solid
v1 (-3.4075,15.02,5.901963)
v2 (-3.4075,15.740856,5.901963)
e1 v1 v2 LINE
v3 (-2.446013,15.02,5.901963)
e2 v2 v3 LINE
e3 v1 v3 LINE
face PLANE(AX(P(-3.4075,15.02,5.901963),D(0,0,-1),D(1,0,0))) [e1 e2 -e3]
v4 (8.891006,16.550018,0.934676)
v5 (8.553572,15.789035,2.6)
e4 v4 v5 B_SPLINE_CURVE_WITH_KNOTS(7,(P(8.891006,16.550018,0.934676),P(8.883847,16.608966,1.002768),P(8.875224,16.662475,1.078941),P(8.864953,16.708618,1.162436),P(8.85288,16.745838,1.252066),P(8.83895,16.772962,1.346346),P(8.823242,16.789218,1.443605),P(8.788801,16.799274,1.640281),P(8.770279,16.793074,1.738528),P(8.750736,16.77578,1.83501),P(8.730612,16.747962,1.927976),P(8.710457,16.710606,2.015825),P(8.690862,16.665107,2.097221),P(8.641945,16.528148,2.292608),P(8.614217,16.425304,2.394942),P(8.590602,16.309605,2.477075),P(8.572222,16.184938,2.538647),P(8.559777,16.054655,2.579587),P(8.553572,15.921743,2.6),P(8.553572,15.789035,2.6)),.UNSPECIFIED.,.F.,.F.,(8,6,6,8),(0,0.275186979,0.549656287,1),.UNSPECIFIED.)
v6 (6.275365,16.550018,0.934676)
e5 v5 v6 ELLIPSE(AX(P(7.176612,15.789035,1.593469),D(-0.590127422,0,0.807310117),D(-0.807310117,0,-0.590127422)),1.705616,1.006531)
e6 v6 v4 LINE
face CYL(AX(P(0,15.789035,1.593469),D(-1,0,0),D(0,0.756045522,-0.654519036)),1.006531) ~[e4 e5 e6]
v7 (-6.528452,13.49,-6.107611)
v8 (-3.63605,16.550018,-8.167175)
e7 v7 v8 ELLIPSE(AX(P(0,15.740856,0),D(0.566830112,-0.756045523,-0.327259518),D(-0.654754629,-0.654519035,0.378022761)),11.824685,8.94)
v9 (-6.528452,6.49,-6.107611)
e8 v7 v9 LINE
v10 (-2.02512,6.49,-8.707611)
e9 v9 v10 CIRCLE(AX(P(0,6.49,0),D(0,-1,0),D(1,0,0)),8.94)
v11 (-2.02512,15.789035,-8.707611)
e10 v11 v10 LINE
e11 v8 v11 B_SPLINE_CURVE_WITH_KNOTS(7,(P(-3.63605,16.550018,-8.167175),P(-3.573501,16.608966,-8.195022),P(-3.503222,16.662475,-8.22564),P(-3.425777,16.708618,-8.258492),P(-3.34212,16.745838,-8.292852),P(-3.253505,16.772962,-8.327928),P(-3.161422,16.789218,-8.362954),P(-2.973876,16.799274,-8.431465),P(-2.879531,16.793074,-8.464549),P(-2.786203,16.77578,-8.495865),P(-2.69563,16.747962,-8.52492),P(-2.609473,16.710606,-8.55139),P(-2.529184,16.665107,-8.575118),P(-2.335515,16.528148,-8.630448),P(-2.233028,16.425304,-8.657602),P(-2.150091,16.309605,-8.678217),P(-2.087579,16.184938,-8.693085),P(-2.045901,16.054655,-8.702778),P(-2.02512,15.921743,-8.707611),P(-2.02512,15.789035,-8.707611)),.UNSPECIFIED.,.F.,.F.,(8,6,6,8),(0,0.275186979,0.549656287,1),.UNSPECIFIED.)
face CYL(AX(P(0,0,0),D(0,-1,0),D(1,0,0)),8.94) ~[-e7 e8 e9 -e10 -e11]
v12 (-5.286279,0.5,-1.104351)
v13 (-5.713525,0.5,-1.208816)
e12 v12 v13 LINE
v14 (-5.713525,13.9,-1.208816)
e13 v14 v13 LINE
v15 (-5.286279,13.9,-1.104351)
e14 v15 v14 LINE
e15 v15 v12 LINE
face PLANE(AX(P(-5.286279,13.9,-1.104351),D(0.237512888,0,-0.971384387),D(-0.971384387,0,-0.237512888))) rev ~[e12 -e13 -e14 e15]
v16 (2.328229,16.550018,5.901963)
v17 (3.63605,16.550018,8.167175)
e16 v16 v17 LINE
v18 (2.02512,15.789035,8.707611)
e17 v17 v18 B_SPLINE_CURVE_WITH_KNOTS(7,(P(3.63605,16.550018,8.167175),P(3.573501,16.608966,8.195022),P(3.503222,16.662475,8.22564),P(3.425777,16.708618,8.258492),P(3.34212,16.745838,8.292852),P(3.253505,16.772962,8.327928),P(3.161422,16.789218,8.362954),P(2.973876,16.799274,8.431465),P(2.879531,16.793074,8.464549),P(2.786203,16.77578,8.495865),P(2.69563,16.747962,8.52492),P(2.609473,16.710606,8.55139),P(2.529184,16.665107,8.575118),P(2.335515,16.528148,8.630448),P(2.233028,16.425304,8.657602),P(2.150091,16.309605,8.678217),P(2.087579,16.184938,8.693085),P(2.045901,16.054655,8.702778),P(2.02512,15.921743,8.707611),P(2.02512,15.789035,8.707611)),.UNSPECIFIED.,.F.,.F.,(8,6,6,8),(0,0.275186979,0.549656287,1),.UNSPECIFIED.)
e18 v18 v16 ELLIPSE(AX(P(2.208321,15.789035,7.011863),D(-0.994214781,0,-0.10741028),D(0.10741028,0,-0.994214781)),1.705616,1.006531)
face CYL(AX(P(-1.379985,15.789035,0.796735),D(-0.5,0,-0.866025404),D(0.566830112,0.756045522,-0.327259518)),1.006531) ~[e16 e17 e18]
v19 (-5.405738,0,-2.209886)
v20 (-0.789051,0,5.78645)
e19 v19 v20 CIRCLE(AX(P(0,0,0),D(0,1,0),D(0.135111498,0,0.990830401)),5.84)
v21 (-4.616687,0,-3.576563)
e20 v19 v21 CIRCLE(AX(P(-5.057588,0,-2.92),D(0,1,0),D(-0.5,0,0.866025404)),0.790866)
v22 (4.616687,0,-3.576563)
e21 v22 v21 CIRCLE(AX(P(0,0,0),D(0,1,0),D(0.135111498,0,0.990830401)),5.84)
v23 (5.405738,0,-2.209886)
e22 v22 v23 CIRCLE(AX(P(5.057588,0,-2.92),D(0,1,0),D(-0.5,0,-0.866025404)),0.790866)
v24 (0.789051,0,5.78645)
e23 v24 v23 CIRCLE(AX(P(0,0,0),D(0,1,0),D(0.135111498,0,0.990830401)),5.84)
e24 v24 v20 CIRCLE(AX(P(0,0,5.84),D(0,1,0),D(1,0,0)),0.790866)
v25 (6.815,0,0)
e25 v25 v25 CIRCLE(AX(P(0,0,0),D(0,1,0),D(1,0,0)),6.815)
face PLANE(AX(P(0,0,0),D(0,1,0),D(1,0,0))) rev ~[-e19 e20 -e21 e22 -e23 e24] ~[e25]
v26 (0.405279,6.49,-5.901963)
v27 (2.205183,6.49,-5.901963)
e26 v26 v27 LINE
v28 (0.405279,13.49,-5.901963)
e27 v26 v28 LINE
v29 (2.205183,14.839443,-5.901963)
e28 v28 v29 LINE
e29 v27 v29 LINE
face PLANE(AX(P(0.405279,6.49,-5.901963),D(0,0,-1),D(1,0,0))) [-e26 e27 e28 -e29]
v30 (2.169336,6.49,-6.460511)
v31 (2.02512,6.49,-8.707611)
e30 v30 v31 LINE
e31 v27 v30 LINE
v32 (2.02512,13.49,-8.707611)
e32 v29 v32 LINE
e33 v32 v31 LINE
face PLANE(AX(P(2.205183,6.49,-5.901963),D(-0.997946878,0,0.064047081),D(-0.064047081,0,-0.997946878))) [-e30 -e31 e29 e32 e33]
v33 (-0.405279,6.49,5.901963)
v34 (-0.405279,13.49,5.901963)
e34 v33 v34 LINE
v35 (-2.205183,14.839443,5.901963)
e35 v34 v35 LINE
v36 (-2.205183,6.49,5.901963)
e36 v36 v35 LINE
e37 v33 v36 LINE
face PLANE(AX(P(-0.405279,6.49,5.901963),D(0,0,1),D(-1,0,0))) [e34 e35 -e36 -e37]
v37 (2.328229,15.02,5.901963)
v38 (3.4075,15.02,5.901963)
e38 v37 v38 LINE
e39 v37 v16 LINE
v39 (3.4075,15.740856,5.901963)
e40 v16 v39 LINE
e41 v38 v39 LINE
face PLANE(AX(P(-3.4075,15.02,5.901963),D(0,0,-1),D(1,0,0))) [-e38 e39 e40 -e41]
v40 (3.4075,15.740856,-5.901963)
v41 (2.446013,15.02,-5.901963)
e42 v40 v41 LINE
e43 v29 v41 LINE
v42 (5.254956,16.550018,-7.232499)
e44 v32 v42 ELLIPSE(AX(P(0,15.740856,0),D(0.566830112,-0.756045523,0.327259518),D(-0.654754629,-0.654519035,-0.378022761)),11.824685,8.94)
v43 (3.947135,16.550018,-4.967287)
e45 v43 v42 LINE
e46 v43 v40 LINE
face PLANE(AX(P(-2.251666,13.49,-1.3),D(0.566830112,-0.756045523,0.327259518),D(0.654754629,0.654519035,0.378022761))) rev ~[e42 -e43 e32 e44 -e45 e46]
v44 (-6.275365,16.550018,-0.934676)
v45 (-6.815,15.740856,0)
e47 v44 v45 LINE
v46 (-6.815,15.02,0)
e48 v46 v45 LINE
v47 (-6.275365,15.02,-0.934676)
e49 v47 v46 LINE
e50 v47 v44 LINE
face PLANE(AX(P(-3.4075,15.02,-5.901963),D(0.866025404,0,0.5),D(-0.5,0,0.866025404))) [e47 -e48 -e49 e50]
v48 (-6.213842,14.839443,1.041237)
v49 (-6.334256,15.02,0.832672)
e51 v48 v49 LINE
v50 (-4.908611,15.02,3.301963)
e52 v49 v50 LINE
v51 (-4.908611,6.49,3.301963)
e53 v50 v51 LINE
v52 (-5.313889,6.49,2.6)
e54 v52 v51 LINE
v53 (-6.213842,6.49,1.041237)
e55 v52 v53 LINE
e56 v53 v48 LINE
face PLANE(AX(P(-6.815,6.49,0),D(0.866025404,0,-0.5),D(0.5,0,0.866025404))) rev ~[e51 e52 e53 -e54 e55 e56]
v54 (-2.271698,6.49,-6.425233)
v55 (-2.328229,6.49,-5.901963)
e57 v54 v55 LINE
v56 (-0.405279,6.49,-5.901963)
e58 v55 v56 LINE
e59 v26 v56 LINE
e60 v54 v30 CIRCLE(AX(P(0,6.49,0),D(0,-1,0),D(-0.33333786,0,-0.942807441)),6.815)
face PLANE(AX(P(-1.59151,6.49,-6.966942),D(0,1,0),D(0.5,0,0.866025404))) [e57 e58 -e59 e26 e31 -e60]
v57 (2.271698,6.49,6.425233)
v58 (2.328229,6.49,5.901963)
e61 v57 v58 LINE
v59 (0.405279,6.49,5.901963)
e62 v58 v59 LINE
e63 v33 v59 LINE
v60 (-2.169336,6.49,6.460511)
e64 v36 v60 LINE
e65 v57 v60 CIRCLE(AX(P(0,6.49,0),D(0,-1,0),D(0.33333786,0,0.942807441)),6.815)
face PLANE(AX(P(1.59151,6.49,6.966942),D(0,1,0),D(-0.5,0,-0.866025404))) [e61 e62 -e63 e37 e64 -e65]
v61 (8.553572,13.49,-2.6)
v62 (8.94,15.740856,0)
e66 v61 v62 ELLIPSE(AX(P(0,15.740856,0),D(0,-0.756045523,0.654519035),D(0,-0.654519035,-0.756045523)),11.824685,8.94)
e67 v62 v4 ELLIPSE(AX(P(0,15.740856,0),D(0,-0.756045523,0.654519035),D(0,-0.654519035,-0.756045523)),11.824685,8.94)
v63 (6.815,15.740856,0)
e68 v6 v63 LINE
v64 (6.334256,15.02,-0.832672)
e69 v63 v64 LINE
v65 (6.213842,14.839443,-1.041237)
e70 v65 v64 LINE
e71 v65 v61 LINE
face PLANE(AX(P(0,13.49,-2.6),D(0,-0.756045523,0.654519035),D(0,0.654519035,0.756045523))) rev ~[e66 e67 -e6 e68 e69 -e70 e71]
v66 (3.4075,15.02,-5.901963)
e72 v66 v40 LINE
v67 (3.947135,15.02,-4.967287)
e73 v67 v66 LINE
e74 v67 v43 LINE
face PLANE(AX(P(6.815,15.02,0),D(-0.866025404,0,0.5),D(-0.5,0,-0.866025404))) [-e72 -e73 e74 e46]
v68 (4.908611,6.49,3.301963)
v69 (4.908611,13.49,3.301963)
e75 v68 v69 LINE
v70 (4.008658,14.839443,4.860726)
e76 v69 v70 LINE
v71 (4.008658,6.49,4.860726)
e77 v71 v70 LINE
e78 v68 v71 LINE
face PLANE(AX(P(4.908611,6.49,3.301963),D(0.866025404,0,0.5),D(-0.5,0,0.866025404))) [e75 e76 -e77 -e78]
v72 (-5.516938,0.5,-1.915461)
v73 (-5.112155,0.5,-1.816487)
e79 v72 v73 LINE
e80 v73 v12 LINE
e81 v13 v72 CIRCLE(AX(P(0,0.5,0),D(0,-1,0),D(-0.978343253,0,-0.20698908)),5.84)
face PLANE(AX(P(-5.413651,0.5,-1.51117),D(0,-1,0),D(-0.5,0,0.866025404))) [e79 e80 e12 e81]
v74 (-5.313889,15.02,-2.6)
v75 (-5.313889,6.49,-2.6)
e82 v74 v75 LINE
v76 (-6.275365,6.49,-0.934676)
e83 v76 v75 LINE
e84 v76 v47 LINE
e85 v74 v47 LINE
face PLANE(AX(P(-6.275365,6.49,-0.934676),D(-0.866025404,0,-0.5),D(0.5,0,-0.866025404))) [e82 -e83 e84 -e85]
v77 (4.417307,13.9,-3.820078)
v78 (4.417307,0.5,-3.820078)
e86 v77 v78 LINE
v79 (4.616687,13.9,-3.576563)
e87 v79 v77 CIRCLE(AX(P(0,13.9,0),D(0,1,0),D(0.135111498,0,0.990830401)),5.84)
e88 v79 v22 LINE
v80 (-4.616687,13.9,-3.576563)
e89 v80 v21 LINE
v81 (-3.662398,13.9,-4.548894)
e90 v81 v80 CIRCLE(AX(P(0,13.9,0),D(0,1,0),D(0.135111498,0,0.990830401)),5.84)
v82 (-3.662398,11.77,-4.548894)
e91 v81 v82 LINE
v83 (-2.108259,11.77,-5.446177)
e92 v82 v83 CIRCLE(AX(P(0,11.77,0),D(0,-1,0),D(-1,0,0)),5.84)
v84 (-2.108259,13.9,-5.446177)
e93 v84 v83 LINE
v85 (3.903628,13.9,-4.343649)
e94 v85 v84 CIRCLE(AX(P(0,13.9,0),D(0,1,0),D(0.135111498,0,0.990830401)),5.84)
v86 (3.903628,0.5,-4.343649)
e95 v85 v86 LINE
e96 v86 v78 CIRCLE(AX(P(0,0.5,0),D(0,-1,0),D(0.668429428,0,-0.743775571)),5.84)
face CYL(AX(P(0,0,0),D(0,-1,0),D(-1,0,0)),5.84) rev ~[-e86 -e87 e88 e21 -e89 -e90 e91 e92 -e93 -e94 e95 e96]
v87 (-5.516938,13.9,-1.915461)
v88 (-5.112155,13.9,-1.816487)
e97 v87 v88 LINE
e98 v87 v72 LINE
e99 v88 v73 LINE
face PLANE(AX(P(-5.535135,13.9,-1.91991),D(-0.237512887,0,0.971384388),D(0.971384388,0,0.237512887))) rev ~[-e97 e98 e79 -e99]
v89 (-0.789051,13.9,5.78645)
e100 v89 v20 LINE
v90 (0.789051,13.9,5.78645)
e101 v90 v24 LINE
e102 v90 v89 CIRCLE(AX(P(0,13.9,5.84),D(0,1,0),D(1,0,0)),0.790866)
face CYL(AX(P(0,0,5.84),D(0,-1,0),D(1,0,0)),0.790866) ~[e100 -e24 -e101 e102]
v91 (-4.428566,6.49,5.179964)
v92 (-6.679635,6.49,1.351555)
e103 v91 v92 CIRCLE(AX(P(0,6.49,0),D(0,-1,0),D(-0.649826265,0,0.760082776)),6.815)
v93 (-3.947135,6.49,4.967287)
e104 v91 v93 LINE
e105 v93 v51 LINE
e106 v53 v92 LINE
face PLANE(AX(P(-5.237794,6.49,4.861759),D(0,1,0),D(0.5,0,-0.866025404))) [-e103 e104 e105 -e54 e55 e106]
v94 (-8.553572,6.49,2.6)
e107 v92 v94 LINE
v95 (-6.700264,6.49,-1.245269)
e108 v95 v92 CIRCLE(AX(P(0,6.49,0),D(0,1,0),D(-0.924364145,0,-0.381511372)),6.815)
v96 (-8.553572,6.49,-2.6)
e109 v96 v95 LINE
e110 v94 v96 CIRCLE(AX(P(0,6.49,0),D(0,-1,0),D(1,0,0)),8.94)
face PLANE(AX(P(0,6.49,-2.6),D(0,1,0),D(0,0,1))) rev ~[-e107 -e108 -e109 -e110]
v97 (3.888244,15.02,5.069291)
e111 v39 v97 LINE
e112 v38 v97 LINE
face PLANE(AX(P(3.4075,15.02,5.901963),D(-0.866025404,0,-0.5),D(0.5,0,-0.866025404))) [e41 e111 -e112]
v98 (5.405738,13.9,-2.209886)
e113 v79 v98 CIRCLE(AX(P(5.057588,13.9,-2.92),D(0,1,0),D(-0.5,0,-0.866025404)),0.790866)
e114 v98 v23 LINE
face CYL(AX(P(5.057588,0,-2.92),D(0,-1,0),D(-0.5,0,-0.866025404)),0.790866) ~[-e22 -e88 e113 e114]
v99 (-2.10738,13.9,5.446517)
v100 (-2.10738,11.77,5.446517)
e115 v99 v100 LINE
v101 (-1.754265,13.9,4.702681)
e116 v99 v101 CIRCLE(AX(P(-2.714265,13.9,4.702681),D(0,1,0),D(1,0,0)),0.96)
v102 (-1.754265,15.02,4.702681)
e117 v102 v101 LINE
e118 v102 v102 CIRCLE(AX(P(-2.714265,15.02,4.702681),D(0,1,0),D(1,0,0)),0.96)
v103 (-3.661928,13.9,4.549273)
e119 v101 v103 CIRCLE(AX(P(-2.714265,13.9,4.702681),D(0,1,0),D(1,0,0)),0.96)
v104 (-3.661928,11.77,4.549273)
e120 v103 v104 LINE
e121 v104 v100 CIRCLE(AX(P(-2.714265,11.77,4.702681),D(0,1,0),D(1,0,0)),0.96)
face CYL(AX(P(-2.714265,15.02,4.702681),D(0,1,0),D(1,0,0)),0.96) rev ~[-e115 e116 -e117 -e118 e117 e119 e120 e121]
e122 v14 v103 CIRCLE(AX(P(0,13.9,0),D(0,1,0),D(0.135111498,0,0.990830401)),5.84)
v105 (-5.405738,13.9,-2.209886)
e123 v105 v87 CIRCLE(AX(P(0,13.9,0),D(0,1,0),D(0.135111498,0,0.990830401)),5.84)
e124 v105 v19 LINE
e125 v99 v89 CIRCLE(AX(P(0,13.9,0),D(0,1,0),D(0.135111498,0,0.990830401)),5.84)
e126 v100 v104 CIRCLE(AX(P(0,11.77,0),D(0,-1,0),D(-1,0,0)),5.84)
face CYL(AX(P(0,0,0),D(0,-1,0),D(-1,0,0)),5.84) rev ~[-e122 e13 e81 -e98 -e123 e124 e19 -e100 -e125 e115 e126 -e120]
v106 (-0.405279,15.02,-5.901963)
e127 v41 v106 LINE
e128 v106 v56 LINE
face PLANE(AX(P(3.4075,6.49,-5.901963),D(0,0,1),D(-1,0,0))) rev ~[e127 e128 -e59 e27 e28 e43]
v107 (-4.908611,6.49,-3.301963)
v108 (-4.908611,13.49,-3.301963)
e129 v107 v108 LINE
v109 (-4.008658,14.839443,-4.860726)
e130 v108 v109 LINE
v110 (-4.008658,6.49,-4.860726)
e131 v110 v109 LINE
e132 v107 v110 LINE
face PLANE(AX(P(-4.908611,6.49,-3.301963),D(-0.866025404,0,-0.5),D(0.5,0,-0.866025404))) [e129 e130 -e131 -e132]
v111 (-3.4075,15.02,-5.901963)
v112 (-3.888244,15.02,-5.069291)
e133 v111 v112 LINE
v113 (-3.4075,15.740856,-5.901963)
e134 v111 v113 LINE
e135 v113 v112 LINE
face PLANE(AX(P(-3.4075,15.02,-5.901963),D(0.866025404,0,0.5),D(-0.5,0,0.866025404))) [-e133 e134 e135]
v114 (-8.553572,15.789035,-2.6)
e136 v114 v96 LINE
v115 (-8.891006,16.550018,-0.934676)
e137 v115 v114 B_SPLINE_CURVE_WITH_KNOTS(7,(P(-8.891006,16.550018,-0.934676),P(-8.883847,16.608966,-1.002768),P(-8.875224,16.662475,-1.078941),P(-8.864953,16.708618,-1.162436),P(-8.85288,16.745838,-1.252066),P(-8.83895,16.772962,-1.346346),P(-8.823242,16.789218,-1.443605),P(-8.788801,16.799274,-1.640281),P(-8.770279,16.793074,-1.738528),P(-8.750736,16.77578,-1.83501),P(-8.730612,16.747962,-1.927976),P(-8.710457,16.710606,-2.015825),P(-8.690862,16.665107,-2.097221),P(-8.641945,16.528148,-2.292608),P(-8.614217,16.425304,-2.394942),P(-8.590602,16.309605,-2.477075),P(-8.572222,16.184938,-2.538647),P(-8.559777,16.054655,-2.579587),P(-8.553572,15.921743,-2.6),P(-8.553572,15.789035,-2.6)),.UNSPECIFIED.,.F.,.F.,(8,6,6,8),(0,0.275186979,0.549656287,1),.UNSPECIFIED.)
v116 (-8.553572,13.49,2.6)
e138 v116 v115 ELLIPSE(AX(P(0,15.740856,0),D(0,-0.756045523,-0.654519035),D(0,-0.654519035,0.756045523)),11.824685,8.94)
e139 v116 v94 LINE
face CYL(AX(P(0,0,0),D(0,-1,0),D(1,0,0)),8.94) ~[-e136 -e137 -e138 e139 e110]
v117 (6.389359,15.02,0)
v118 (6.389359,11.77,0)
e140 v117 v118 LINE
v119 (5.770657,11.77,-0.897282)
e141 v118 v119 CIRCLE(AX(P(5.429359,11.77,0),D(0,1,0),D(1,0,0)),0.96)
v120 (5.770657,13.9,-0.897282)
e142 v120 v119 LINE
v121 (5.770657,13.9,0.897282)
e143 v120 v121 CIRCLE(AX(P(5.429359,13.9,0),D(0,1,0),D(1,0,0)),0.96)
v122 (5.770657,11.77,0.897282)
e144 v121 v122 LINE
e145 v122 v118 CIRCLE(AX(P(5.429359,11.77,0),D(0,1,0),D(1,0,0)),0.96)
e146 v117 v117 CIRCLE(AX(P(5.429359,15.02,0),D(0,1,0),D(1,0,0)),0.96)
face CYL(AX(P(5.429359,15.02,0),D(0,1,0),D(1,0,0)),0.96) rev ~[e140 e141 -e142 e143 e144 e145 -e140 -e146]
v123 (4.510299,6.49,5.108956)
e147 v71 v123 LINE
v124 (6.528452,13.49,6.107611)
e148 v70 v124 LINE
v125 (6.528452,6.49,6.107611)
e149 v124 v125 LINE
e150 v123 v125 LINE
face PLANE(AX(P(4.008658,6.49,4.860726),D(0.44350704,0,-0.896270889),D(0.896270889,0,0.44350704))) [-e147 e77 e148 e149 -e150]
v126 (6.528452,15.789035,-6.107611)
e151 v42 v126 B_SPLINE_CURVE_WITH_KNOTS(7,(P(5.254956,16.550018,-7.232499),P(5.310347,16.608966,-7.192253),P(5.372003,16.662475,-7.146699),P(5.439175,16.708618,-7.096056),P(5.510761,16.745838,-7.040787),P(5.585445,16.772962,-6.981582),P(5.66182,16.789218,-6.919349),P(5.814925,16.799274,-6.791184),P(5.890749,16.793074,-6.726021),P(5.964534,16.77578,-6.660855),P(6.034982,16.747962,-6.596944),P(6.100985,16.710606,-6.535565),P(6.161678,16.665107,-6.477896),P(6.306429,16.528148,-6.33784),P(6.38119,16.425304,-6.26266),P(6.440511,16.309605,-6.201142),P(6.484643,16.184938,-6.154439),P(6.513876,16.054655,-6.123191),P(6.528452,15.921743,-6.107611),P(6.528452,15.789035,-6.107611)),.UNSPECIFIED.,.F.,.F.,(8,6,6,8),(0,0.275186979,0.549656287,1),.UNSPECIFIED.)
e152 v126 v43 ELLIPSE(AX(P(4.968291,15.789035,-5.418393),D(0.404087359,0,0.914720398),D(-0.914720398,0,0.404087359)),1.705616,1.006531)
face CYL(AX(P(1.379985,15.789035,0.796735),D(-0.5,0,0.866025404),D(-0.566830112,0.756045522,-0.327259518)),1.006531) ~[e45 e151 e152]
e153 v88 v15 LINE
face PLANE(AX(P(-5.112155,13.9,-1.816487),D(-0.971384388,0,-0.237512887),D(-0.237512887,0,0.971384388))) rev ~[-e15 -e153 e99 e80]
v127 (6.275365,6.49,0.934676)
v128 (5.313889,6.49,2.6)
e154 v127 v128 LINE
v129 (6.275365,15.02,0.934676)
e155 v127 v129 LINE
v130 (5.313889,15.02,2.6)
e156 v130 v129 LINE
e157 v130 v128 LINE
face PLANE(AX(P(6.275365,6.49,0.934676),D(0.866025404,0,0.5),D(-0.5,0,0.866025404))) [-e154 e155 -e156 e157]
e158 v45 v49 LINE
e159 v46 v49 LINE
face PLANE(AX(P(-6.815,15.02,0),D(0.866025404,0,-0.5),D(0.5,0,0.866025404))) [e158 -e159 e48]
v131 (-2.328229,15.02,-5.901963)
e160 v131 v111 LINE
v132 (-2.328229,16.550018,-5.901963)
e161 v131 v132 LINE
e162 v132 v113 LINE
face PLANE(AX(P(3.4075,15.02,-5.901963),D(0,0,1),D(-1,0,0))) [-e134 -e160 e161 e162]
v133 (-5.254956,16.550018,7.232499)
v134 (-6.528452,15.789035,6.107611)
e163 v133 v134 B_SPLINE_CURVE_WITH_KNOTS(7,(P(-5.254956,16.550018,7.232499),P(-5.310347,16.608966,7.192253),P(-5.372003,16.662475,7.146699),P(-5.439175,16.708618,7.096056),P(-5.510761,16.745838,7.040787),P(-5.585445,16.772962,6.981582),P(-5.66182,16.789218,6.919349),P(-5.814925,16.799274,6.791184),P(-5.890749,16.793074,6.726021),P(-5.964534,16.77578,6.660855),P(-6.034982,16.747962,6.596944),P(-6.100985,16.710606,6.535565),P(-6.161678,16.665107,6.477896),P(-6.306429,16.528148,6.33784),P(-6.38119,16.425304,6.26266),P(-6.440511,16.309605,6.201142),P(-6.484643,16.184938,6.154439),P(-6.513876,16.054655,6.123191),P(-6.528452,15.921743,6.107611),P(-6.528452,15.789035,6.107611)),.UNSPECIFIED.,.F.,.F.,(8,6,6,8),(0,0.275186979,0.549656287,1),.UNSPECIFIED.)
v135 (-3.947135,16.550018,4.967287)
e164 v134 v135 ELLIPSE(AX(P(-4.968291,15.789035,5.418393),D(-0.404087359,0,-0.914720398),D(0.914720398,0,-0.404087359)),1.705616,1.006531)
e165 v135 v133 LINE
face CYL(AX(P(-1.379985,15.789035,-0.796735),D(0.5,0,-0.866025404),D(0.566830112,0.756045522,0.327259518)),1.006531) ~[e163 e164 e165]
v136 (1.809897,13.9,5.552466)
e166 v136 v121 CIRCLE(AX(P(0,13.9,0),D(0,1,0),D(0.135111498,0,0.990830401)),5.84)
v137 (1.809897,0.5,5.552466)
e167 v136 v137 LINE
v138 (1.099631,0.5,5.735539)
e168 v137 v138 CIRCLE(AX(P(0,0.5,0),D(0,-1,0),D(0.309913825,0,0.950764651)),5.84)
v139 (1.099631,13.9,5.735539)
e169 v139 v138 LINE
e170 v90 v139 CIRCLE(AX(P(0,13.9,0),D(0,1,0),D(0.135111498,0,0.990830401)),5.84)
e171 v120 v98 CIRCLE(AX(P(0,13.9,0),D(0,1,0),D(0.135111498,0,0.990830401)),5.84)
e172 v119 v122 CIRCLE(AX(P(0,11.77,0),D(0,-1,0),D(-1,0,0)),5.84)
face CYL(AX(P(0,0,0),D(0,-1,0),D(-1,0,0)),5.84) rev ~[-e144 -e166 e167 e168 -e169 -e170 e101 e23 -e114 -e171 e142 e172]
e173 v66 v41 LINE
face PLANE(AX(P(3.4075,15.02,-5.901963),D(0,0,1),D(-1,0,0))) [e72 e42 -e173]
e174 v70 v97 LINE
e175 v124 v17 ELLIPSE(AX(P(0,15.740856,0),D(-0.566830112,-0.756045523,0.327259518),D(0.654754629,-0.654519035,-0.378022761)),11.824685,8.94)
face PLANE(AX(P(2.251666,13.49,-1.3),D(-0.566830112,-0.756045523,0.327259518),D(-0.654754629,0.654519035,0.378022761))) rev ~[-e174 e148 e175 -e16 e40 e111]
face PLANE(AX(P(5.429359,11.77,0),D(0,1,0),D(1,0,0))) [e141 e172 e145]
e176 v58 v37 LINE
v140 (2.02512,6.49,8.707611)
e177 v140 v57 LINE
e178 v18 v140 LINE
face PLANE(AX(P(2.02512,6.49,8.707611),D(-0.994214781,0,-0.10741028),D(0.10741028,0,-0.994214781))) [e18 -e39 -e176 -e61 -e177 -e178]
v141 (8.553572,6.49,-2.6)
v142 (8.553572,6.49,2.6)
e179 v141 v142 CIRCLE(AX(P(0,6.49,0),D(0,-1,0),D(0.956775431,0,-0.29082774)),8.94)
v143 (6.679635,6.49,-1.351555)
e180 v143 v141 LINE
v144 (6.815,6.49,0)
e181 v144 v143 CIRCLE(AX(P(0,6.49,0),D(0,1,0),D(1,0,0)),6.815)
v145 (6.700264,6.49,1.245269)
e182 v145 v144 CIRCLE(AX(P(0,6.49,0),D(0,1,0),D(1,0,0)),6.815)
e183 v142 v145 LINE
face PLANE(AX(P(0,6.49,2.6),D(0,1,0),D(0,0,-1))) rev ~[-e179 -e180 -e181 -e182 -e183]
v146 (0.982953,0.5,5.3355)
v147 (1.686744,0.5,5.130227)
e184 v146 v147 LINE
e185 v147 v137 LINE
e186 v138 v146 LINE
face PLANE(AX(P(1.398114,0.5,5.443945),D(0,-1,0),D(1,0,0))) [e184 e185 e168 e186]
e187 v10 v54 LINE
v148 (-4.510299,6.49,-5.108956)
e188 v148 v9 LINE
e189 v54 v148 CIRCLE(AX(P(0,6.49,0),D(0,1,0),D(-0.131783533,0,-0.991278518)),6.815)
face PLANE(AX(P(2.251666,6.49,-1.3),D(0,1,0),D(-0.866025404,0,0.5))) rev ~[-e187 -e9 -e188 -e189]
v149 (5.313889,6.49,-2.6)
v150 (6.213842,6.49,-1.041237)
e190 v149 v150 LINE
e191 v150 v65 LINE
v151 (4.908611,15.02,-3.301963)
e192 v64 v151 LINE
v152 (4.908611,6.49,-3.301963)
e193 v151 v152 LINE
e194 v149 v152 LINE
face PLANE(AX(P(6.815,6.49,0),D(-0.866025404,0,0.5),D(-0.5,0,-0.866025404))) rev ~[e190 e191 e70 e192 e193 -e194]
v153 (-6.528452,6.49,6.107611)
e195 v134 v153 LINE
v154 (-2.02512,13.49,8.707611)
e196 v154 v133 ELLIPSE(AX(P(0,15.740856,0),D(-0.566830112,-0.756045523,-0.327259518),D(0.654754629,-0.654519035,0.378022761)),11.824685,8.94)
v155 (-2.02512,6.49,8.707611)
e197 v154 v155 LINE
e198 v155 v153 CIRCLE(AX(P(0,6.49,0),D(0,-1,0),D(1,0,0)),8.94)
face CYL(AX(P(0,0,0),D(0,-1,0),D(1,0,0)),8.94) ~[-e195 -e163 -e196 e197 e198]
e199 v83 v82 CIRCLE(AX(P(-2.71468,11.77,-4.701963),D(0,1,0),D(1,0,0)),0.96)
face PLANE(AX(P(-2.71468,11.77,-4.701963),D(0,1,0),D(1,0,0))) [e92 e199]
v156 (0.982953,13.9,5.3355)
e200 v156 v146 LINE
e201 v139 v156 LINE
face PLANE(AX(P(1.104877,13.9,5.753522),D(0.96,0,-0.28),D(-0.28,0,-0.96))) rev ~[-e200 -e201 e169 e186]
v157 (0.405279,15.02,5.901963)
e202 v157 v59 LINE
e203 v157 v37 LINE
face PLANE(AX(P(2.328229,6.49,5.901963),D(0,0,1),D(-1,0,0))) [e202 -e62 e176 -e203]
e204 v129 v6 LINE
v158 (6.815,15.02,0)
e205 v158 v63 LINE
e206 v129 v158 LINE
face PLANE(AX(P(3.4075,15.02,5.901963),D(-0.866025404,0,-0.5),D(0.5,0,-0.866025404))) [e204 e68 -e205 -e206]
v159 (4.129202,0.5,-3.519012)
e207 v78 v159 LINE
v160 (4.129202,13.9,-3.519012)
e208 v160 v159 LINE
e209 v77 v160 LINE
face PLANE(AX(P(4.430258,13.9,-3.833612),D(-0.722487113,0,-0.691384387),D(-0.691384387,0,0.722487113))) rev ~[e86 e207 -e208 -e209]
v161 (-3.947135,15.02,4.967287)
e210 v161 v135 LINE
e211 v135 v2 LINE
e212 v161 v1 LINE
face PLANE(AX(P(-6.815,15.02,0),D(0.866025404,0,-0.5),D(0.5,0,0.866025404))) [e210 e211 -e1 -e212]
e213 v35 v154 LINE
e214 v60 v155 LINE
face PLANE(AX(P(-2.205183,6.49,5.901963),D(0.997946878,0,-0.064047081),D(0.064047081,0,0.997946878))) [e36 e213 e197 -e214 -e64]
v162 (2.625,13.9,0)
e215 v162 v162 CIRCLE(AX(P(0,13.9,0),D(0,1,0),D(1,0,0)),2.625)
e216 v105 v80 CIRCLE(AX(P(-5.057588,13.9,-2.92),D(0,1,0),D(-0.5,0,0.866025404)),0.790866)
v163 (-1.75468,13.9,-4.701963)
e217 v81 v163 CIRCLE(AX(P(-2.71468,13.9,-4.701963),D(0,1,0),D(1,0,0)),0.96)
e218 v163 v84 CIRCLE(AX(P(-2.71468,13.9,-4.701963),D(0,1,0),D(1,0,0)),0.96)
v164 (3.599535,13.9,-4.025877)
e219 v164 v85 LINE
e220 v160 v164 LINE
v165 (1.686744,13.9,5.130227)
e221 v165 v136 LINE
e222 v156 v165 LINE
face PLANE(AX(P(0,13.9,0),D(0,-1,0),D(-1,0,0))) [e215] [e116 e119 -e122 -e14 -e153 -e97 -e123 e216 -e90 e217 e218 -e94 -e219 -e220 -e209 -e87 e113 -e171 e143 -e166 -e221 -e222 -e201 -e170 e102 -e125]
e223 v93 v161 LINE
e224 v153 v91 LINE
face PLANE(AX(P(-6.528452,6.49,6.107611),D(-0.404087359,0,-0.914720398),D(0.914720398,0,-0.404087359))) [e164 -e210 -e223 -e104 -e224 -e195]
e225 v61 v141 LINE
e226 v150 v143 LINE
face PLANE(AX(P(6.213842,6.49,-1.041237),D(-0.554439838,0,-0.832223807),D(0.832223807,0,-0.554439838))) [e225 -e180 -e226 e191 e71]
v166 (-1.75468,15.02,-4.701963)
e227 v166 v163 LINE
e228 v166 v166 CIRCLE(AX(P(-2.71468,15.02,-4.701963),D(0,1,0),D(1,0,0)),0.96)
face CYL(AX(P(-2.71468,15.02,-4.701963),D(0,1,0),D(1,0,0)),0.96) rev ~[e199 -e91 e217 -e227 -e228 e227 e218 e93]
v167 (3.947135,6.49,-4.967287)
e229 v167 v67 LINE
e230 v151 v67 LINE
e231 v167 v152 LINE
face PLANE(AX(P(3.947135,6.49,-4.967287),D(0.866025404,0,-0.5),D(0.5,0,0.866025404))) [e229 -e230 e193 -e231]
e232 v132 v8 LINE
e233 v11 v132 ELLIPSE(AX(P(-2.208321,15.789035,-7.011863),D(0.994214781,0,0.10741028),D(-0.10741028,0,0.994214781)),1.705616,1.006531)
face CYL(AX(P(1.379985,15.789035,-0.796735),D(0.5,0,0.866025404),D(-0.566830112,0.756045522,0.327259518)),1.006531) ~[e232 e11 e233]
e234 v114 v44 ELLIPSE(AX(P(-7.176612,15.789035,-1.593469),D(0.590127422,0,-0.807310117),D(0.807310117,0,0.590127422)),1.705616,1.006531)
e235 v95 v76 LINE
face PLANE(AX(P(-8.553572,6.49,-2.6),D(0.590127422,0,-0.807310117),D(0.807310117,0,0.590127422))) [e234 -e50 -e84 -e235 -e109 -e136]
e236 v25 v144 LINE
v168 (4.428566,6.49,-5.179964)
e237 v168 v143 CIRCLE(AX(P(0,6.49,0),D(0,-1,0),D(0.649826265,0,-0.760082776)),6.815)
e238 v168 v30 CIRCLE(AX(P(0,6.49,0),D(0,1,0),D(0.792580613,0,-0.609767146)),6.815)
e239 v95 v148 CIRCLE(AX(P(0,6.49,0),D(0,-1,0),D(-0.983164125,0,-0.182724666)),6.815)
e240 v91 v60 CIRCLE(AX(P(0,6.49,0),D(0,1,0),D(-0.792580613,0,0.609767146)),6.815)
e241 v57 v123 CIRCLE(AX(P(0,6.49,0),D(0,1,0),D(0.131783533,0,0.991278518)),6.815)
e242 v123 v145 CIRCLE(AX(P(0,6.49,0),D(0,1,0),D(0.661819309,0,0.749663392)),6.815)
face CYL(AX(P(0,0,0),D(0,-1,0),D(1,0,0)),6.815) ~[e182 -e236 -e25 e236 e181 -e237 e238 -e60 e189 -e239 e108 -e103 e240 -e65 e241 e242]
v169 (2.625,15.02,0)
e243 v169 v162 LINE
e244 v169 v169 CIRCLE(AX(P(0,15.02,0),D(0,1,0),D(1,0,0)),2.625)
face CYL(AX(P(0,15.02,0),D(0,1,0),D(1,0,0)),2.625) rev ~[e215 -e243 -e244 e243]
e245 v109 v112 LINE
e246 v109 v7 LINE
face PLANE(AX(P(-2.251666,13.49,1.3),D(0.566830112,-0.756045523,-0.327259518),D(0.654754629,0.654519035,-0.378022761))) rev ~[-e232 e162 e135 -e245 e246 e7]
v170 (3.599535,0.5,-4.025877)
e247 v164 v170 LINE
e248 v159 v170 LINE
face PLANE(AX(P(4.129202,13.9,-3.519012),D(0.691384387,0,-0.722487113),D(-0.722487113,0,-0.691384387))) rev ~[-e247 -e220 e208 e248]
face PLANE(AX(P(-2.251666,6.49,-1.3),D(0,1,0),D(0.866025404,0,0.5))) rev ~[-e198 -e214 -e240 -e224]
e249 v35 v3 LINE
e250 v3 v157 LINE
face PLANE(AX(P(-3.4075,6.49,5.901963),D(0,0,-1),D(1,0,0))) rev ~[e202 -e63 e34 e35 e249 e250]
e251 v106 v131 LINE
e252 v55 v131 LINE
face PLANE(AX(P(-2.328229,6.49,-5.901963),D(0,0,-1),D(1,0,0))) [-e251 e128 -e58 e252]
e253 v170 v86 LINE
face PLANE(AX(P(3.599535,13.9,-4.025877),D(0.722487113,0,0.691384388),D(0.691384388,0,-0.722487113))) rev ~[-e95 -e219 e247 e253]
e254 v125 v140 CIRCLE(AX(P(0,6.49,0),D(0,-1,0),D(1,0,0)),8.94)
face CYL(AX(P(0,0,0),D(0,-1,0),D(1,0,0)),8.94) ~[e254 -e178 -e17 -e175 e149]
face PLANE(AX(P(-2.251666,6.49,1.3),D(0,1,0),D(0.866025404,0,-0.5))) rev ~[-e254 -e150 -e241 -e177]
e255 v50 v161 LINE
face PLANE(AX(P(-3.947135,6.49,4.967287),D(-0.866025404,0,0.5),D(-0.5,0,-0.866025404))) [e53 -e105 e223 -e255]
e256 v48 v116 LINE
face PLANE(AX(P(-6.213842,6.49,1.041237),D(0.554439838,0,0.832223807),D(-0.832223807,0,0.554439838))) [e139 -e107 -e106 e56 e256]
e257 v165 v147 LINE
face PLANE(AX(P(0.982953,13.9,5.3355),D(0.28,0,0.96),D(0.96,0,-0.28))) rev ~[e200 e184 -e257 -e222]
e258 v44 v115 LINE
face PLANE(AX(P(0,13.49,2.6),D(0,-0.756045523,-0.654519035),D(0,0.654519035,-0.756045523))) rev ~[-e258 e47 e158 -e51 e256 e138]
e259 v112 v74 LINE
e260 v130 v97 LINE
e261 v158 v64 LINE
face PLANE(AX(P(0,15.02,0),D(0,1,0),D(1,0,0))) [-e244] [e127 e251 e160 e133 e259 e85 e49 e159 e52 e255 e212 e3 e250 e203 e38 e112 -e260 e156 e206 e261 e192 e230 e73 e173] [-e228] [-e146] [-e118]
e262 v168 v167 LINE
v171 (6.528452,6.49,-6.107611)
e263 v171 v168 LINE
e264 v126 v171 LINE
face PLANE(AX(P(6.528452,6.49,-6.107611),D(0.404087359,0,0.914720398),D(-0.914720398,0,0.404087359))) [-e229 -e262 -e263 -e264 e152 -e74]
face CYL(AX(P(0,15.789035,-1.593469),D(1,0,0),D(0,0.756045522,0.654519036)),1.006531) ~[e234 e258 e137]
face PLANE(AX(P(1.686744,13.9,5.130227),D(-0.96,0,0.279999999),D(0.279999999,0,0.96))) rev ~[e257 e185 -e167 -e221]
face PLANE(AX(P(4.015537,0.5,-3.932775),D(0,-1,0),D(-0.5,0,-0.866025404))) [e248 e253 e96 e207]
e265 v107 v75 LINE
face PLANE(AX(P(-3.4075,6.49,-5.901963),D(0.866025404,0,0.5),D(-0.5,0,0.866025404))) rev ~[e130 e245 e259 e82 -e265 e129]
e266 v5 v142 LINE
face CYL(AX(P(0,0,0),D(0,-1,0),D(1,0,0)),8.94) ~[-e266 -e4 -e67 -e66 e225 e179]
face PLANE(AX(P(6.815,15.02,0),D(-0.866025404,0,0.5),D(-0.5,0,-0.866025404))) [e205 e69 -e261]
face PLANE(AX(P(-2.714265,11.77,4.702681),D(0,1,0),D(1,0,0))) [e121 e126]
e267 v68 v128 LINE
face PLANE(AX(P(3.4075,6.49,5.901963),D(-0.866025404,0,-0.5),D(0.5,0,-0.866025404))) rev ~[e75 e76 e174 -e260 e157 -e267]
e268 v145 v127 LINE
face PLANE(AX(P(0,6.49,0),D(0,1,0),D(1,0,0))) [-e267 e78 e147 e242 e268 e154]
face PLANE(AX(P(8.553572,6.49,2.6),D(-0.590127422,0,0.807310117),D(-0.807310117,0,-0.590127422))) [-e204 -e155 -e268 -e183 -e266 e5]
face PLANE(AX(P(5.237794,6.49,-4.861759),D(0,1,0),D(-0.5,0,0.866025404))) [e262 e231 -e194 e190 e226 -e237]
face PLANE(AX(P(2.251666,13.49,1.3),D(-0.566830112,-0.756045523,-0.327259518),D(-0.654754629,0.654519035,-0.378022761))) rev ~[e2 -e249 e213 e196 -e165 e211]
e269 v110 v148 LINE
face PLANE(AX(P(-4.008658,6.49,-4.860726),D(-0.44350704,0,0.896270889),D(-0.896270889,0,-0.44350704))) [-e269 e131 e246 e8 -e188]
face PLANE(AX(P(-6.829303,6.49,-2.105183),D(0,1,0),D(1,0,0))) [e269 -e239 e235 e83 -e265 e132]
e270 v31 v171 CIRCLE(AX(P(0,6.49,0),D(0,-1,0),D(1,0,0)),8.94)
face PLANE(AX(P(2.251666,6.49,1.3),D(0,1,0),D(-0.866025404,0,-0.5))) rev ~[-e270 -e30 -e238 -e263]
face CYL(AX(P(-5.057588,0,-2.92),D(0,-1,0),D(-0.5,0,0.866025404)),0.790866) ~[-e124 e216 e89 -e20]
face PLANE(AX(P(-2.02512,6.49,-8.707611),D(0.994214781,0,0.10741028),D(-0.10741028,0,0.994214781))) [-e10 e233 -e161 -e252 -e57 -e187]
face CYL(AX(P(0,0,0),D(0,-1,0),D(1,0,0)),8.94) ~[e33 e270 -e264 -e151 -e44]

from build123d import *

# Parameters (mm, degrees)
SKETCH1_R               = 6.815
BOSS_EXTRUDE1_DEPTH     = 6.49
BOSS_EXTRUDE2_DEPTH     = 8.53
BOSS_EXTRUDE3_DEPTH     = 10
CIRPATTERN1_COUNT       = 6
SKETCH4_R               = 10.914422046
SKETCH4_R_2             = 8.94
CUT_EXTRUDE1_DEPTH      = 18
CUT_EXTRUDE2_DEPTH      = 18
CUT_EXTRUDE4_DEPTH      = 11.305565513
CIRPATTERN2_COUNT       = 6
SKETCH8_R               = 2.625
CUT_EXTRUDE5_DEPTH      = 2.775565513
CUT_EXTRUDE5_DEPTH_BACK = 16.02
SKETCH9_R               = 5.84
CUT_EXTRUDE6_DEPTH      = 13.9
BOSS_EXTRUDE4_DEPTH     = 13.9
CIRPATTERN3_COUNT       = 3
BOSS_EXTRUDE5_DEPTH     = 13.4
CIRPATTERN4_COUNT       = 3
SKETCH12_R              = 0.96
CUT_EXTRUDE7_DEPTH      = 3.25


with BuildPart() as part:
    # Sketch1 → Boss-Extrude1 (new body)
    with BuildSketch(Plane(origin=(0, 0, 0), x_dir=(1, 0, 0), z_dir=(0, 1, 0))):
        Circle(SKETCH1_R)
    extrude(amount=BOSS_EXTRUDE1_DEPTH)

    # Sketch2 → Boss-Extrude2 (add)
    with BuildSketch(Plane(origin=(0, 6.49, 0), x_dir=(1, 0, 0), z_dir=(0, 1, 0))):
        Polygon((3.4075, 5.901963127), (-3.4075, 5.901963127), (-6.815, 0), (-3.4075, -5.901963127), (3.4075, -5.901963127), (6.815, 0), align=None)
    extrude(amount=BOSS_EXTRUDE2_DEPTH)

    # Sketch3 → Boss-Extrude3 (add)
    with BuildSketch(Plane(origin=(0, 0, 0), x_dir=(0, 0, -1), z_dir=(1, 0, 0))):
        with BuildLine():
            Line((-2.6, 6.49), (2.6, 6.49))
            Line((2.6, 6.49), (2.6, 13.49))
            Line((2.6, 13.49), (-0.934676019, 16.550017775))
            ThreePointArc((-0.934676019, 16.550017775), (-2.011804271, 16.704512725), (-2.6, 15.789034847))
            Line((-2.6, 15.789034847), (-2.6, 13.49))
            Line((-2.6, 13.49), (-2.6, 6.49))
        make_face()
    boss_extrude3 = extrude(amount=BOSS_EXTRUDE3_DEPTH)

    # CirPattern1: Boss-Extrude3 ×6 about axis
    cirpattern1_axis = Axis((0, 0, 0), (0, 1, 0))
    for i in range(1, CIRPATTERN1_COUNT):
        add(boss_extrude3.rotate(cirpattern1_axis, i * 360 / CIRPATTERN1_COUNT))

    # Sketch4 → Cut-Extrude1 (cut)
    with BuildSketch(Plane(origin=(0, 0, 0), x_dir=(1, 0, 0), z_dir=(0, 1, 0))):
        Circle(SKETCH4_R)
        Circle(SKETCH4_R_2, mode=Mode.SUBTRACT)
    extrude(amount=CUT_EXTRUDE1_DEPTH, mode=Mode.SUBTRACT)

    # Sketch5 → Cut-Extrude2 (cut)
    with BuildSketch(Plane(origin=(0, 15.02, 0), x_dir=(1, 0, 0), z_dir=(0, 1, 0))):
        Polygon((-3.4075, 5.901963127), (-6.815, 0), (-3.4075, -5.901963127), (3.4075, -5.901963127), (6.815, 0), (3.4075, 5.901963127), align=None)
    extrude(amount=CUT_EXTRUDE2_DEPTH, mode=Mode.SUBTRACT)

    # Sketch7 → Cut-Extrude4 (cut, through all)
    with BuildSketch(Plane(origin=(0, 6.49, 0), x_dir=(1, 0, 0), z_dir=(0, 1, 0))):
        Polygon((-6.213841686, -1.041236743), (-8.553572353, -2.6), (-5.3138893, -2.6), align=None)
        Polygon((-8.553572353, 2.6), (-6.275364549, 0.934676019), (-5.3138893, 2.6), align=None)
    cut_extrude4 = extrude(amount=CUT_EXTRUDE4_DEPTH, mode=Mode.SUBTRACT)

    # CirPattern2: Cut-Extrude4 ×6 about axis
    cirpattern2_axis = Axis((0, 0, 0), (0, 1, 0))
    for i in range(1, CIRPATTERN2_COUNT):
        add(cut_extrude4.rotate(cirpattern2_axis, i * 360 / CIRPATTERN2_COUNT), mode=Mode.SUBTRACT)

    # Sketch8 → Cut-Extrude5 (cut, two sides)
    with BuildSketch(Plane(origin=(0, 15.02, 0), x_dir=(1, 0, 0), z_dir=(0, 1, 0))) as cut_extrude5_sk:
        Circle(SKETCH8_R)
    extrude(amount=CUT_EXTRUDE5_DEPTH, mode=Mode.SUBTRACT)
    extrude(cut_extrude5_sk.sketch, amount=-CUT_EXTRUDE5_DEPTH_BACK, mode=Mode.SUBTRACT)

    # Sketch9 → Cut-Extrude6 (cut)
    with BuildSketch(Plane(origin=(0, 0, 0), x_dir=(-1, 0, 0), z_dir=(0, -1, 0))):
        Circle(SKETCH9_R)
    extrude(amount=-CUT_EXTRUDE6_DEPTH, mode=Mode.SUBTRACT)

    # Sketch10 → Boss-Extrude4 (add)
    with BuildSketch(Plane(origin=(0, 0, 0), x_dir=(1, 0, 0), z_dir=(0, 1, 0))):
        with BuildLine():
            Line((-0.790866214, -5.84), (0.790866214, -5.84))
            ThreePointArc((0.790866214, -5.84), (0, -5.049133786), (-0.790866214, -5.84))
        make_face()
    boss_extrude4 = extrude(amount=BOSS_EXTRUDE4_DEPTH)

    # CirPattern3: Boss-Extrude4 ×3 about axis
    cirpattern3_axis = Axis((0, 0, 0), (0, 1, 0))
    for i in range(1, CIRPATTERN3_COUNT):
        add(boss_extrude4.rotate(cirpattern3_axis, i * 360 / CIRPATTERN3_COUNT))

    # Sketch11 → Boss-Extrude5 (add)
    with BuildSketch(Plane.XZ.offset(-13.9)):
        Polygon((1.104876589, 5.753522427), (0.982953313, 5.335499767), (1.686743969, 5.130227492), (1.811594174, 5.558285339), align=None)
    boss_extrude5 = extrude(amount=BOSS_EXTRUDE5_DEPTH)

    # CirPattern4: Boss-Extrude5 ×3 about axis
    cirpattern4_axis = Axis((0, 0, 0), (0, 1, 0))
    for i in range(1, CIRPATTERN4_COUNT):
        add(boss_extrude5.rotate(cirpattern4_axis, i * 360 / CIRPATTERN4_COUNT))

    # Sketch12 → Cut-Extrude7 (cut)
    with BuildSketch(Plane(origin=(0, 15.02, 0), x_dir=(1, 0, 0), z_dir=(0, 1, 0))):
        with Locations((-2.714264925, -4.702681498)):
            Circle(SKETCH12_R)
        with Locations((-2.714679677, 4.701963127)):
            Circle(SKETCH12_R)
        with Locations((5.429359354, 0)):
            Circle(SKETCH12_R)
    extrude(amount=-CUT_EXTRUDE7_DEPTH, mode=Mode.SUBTRACT)


solid = part.part
